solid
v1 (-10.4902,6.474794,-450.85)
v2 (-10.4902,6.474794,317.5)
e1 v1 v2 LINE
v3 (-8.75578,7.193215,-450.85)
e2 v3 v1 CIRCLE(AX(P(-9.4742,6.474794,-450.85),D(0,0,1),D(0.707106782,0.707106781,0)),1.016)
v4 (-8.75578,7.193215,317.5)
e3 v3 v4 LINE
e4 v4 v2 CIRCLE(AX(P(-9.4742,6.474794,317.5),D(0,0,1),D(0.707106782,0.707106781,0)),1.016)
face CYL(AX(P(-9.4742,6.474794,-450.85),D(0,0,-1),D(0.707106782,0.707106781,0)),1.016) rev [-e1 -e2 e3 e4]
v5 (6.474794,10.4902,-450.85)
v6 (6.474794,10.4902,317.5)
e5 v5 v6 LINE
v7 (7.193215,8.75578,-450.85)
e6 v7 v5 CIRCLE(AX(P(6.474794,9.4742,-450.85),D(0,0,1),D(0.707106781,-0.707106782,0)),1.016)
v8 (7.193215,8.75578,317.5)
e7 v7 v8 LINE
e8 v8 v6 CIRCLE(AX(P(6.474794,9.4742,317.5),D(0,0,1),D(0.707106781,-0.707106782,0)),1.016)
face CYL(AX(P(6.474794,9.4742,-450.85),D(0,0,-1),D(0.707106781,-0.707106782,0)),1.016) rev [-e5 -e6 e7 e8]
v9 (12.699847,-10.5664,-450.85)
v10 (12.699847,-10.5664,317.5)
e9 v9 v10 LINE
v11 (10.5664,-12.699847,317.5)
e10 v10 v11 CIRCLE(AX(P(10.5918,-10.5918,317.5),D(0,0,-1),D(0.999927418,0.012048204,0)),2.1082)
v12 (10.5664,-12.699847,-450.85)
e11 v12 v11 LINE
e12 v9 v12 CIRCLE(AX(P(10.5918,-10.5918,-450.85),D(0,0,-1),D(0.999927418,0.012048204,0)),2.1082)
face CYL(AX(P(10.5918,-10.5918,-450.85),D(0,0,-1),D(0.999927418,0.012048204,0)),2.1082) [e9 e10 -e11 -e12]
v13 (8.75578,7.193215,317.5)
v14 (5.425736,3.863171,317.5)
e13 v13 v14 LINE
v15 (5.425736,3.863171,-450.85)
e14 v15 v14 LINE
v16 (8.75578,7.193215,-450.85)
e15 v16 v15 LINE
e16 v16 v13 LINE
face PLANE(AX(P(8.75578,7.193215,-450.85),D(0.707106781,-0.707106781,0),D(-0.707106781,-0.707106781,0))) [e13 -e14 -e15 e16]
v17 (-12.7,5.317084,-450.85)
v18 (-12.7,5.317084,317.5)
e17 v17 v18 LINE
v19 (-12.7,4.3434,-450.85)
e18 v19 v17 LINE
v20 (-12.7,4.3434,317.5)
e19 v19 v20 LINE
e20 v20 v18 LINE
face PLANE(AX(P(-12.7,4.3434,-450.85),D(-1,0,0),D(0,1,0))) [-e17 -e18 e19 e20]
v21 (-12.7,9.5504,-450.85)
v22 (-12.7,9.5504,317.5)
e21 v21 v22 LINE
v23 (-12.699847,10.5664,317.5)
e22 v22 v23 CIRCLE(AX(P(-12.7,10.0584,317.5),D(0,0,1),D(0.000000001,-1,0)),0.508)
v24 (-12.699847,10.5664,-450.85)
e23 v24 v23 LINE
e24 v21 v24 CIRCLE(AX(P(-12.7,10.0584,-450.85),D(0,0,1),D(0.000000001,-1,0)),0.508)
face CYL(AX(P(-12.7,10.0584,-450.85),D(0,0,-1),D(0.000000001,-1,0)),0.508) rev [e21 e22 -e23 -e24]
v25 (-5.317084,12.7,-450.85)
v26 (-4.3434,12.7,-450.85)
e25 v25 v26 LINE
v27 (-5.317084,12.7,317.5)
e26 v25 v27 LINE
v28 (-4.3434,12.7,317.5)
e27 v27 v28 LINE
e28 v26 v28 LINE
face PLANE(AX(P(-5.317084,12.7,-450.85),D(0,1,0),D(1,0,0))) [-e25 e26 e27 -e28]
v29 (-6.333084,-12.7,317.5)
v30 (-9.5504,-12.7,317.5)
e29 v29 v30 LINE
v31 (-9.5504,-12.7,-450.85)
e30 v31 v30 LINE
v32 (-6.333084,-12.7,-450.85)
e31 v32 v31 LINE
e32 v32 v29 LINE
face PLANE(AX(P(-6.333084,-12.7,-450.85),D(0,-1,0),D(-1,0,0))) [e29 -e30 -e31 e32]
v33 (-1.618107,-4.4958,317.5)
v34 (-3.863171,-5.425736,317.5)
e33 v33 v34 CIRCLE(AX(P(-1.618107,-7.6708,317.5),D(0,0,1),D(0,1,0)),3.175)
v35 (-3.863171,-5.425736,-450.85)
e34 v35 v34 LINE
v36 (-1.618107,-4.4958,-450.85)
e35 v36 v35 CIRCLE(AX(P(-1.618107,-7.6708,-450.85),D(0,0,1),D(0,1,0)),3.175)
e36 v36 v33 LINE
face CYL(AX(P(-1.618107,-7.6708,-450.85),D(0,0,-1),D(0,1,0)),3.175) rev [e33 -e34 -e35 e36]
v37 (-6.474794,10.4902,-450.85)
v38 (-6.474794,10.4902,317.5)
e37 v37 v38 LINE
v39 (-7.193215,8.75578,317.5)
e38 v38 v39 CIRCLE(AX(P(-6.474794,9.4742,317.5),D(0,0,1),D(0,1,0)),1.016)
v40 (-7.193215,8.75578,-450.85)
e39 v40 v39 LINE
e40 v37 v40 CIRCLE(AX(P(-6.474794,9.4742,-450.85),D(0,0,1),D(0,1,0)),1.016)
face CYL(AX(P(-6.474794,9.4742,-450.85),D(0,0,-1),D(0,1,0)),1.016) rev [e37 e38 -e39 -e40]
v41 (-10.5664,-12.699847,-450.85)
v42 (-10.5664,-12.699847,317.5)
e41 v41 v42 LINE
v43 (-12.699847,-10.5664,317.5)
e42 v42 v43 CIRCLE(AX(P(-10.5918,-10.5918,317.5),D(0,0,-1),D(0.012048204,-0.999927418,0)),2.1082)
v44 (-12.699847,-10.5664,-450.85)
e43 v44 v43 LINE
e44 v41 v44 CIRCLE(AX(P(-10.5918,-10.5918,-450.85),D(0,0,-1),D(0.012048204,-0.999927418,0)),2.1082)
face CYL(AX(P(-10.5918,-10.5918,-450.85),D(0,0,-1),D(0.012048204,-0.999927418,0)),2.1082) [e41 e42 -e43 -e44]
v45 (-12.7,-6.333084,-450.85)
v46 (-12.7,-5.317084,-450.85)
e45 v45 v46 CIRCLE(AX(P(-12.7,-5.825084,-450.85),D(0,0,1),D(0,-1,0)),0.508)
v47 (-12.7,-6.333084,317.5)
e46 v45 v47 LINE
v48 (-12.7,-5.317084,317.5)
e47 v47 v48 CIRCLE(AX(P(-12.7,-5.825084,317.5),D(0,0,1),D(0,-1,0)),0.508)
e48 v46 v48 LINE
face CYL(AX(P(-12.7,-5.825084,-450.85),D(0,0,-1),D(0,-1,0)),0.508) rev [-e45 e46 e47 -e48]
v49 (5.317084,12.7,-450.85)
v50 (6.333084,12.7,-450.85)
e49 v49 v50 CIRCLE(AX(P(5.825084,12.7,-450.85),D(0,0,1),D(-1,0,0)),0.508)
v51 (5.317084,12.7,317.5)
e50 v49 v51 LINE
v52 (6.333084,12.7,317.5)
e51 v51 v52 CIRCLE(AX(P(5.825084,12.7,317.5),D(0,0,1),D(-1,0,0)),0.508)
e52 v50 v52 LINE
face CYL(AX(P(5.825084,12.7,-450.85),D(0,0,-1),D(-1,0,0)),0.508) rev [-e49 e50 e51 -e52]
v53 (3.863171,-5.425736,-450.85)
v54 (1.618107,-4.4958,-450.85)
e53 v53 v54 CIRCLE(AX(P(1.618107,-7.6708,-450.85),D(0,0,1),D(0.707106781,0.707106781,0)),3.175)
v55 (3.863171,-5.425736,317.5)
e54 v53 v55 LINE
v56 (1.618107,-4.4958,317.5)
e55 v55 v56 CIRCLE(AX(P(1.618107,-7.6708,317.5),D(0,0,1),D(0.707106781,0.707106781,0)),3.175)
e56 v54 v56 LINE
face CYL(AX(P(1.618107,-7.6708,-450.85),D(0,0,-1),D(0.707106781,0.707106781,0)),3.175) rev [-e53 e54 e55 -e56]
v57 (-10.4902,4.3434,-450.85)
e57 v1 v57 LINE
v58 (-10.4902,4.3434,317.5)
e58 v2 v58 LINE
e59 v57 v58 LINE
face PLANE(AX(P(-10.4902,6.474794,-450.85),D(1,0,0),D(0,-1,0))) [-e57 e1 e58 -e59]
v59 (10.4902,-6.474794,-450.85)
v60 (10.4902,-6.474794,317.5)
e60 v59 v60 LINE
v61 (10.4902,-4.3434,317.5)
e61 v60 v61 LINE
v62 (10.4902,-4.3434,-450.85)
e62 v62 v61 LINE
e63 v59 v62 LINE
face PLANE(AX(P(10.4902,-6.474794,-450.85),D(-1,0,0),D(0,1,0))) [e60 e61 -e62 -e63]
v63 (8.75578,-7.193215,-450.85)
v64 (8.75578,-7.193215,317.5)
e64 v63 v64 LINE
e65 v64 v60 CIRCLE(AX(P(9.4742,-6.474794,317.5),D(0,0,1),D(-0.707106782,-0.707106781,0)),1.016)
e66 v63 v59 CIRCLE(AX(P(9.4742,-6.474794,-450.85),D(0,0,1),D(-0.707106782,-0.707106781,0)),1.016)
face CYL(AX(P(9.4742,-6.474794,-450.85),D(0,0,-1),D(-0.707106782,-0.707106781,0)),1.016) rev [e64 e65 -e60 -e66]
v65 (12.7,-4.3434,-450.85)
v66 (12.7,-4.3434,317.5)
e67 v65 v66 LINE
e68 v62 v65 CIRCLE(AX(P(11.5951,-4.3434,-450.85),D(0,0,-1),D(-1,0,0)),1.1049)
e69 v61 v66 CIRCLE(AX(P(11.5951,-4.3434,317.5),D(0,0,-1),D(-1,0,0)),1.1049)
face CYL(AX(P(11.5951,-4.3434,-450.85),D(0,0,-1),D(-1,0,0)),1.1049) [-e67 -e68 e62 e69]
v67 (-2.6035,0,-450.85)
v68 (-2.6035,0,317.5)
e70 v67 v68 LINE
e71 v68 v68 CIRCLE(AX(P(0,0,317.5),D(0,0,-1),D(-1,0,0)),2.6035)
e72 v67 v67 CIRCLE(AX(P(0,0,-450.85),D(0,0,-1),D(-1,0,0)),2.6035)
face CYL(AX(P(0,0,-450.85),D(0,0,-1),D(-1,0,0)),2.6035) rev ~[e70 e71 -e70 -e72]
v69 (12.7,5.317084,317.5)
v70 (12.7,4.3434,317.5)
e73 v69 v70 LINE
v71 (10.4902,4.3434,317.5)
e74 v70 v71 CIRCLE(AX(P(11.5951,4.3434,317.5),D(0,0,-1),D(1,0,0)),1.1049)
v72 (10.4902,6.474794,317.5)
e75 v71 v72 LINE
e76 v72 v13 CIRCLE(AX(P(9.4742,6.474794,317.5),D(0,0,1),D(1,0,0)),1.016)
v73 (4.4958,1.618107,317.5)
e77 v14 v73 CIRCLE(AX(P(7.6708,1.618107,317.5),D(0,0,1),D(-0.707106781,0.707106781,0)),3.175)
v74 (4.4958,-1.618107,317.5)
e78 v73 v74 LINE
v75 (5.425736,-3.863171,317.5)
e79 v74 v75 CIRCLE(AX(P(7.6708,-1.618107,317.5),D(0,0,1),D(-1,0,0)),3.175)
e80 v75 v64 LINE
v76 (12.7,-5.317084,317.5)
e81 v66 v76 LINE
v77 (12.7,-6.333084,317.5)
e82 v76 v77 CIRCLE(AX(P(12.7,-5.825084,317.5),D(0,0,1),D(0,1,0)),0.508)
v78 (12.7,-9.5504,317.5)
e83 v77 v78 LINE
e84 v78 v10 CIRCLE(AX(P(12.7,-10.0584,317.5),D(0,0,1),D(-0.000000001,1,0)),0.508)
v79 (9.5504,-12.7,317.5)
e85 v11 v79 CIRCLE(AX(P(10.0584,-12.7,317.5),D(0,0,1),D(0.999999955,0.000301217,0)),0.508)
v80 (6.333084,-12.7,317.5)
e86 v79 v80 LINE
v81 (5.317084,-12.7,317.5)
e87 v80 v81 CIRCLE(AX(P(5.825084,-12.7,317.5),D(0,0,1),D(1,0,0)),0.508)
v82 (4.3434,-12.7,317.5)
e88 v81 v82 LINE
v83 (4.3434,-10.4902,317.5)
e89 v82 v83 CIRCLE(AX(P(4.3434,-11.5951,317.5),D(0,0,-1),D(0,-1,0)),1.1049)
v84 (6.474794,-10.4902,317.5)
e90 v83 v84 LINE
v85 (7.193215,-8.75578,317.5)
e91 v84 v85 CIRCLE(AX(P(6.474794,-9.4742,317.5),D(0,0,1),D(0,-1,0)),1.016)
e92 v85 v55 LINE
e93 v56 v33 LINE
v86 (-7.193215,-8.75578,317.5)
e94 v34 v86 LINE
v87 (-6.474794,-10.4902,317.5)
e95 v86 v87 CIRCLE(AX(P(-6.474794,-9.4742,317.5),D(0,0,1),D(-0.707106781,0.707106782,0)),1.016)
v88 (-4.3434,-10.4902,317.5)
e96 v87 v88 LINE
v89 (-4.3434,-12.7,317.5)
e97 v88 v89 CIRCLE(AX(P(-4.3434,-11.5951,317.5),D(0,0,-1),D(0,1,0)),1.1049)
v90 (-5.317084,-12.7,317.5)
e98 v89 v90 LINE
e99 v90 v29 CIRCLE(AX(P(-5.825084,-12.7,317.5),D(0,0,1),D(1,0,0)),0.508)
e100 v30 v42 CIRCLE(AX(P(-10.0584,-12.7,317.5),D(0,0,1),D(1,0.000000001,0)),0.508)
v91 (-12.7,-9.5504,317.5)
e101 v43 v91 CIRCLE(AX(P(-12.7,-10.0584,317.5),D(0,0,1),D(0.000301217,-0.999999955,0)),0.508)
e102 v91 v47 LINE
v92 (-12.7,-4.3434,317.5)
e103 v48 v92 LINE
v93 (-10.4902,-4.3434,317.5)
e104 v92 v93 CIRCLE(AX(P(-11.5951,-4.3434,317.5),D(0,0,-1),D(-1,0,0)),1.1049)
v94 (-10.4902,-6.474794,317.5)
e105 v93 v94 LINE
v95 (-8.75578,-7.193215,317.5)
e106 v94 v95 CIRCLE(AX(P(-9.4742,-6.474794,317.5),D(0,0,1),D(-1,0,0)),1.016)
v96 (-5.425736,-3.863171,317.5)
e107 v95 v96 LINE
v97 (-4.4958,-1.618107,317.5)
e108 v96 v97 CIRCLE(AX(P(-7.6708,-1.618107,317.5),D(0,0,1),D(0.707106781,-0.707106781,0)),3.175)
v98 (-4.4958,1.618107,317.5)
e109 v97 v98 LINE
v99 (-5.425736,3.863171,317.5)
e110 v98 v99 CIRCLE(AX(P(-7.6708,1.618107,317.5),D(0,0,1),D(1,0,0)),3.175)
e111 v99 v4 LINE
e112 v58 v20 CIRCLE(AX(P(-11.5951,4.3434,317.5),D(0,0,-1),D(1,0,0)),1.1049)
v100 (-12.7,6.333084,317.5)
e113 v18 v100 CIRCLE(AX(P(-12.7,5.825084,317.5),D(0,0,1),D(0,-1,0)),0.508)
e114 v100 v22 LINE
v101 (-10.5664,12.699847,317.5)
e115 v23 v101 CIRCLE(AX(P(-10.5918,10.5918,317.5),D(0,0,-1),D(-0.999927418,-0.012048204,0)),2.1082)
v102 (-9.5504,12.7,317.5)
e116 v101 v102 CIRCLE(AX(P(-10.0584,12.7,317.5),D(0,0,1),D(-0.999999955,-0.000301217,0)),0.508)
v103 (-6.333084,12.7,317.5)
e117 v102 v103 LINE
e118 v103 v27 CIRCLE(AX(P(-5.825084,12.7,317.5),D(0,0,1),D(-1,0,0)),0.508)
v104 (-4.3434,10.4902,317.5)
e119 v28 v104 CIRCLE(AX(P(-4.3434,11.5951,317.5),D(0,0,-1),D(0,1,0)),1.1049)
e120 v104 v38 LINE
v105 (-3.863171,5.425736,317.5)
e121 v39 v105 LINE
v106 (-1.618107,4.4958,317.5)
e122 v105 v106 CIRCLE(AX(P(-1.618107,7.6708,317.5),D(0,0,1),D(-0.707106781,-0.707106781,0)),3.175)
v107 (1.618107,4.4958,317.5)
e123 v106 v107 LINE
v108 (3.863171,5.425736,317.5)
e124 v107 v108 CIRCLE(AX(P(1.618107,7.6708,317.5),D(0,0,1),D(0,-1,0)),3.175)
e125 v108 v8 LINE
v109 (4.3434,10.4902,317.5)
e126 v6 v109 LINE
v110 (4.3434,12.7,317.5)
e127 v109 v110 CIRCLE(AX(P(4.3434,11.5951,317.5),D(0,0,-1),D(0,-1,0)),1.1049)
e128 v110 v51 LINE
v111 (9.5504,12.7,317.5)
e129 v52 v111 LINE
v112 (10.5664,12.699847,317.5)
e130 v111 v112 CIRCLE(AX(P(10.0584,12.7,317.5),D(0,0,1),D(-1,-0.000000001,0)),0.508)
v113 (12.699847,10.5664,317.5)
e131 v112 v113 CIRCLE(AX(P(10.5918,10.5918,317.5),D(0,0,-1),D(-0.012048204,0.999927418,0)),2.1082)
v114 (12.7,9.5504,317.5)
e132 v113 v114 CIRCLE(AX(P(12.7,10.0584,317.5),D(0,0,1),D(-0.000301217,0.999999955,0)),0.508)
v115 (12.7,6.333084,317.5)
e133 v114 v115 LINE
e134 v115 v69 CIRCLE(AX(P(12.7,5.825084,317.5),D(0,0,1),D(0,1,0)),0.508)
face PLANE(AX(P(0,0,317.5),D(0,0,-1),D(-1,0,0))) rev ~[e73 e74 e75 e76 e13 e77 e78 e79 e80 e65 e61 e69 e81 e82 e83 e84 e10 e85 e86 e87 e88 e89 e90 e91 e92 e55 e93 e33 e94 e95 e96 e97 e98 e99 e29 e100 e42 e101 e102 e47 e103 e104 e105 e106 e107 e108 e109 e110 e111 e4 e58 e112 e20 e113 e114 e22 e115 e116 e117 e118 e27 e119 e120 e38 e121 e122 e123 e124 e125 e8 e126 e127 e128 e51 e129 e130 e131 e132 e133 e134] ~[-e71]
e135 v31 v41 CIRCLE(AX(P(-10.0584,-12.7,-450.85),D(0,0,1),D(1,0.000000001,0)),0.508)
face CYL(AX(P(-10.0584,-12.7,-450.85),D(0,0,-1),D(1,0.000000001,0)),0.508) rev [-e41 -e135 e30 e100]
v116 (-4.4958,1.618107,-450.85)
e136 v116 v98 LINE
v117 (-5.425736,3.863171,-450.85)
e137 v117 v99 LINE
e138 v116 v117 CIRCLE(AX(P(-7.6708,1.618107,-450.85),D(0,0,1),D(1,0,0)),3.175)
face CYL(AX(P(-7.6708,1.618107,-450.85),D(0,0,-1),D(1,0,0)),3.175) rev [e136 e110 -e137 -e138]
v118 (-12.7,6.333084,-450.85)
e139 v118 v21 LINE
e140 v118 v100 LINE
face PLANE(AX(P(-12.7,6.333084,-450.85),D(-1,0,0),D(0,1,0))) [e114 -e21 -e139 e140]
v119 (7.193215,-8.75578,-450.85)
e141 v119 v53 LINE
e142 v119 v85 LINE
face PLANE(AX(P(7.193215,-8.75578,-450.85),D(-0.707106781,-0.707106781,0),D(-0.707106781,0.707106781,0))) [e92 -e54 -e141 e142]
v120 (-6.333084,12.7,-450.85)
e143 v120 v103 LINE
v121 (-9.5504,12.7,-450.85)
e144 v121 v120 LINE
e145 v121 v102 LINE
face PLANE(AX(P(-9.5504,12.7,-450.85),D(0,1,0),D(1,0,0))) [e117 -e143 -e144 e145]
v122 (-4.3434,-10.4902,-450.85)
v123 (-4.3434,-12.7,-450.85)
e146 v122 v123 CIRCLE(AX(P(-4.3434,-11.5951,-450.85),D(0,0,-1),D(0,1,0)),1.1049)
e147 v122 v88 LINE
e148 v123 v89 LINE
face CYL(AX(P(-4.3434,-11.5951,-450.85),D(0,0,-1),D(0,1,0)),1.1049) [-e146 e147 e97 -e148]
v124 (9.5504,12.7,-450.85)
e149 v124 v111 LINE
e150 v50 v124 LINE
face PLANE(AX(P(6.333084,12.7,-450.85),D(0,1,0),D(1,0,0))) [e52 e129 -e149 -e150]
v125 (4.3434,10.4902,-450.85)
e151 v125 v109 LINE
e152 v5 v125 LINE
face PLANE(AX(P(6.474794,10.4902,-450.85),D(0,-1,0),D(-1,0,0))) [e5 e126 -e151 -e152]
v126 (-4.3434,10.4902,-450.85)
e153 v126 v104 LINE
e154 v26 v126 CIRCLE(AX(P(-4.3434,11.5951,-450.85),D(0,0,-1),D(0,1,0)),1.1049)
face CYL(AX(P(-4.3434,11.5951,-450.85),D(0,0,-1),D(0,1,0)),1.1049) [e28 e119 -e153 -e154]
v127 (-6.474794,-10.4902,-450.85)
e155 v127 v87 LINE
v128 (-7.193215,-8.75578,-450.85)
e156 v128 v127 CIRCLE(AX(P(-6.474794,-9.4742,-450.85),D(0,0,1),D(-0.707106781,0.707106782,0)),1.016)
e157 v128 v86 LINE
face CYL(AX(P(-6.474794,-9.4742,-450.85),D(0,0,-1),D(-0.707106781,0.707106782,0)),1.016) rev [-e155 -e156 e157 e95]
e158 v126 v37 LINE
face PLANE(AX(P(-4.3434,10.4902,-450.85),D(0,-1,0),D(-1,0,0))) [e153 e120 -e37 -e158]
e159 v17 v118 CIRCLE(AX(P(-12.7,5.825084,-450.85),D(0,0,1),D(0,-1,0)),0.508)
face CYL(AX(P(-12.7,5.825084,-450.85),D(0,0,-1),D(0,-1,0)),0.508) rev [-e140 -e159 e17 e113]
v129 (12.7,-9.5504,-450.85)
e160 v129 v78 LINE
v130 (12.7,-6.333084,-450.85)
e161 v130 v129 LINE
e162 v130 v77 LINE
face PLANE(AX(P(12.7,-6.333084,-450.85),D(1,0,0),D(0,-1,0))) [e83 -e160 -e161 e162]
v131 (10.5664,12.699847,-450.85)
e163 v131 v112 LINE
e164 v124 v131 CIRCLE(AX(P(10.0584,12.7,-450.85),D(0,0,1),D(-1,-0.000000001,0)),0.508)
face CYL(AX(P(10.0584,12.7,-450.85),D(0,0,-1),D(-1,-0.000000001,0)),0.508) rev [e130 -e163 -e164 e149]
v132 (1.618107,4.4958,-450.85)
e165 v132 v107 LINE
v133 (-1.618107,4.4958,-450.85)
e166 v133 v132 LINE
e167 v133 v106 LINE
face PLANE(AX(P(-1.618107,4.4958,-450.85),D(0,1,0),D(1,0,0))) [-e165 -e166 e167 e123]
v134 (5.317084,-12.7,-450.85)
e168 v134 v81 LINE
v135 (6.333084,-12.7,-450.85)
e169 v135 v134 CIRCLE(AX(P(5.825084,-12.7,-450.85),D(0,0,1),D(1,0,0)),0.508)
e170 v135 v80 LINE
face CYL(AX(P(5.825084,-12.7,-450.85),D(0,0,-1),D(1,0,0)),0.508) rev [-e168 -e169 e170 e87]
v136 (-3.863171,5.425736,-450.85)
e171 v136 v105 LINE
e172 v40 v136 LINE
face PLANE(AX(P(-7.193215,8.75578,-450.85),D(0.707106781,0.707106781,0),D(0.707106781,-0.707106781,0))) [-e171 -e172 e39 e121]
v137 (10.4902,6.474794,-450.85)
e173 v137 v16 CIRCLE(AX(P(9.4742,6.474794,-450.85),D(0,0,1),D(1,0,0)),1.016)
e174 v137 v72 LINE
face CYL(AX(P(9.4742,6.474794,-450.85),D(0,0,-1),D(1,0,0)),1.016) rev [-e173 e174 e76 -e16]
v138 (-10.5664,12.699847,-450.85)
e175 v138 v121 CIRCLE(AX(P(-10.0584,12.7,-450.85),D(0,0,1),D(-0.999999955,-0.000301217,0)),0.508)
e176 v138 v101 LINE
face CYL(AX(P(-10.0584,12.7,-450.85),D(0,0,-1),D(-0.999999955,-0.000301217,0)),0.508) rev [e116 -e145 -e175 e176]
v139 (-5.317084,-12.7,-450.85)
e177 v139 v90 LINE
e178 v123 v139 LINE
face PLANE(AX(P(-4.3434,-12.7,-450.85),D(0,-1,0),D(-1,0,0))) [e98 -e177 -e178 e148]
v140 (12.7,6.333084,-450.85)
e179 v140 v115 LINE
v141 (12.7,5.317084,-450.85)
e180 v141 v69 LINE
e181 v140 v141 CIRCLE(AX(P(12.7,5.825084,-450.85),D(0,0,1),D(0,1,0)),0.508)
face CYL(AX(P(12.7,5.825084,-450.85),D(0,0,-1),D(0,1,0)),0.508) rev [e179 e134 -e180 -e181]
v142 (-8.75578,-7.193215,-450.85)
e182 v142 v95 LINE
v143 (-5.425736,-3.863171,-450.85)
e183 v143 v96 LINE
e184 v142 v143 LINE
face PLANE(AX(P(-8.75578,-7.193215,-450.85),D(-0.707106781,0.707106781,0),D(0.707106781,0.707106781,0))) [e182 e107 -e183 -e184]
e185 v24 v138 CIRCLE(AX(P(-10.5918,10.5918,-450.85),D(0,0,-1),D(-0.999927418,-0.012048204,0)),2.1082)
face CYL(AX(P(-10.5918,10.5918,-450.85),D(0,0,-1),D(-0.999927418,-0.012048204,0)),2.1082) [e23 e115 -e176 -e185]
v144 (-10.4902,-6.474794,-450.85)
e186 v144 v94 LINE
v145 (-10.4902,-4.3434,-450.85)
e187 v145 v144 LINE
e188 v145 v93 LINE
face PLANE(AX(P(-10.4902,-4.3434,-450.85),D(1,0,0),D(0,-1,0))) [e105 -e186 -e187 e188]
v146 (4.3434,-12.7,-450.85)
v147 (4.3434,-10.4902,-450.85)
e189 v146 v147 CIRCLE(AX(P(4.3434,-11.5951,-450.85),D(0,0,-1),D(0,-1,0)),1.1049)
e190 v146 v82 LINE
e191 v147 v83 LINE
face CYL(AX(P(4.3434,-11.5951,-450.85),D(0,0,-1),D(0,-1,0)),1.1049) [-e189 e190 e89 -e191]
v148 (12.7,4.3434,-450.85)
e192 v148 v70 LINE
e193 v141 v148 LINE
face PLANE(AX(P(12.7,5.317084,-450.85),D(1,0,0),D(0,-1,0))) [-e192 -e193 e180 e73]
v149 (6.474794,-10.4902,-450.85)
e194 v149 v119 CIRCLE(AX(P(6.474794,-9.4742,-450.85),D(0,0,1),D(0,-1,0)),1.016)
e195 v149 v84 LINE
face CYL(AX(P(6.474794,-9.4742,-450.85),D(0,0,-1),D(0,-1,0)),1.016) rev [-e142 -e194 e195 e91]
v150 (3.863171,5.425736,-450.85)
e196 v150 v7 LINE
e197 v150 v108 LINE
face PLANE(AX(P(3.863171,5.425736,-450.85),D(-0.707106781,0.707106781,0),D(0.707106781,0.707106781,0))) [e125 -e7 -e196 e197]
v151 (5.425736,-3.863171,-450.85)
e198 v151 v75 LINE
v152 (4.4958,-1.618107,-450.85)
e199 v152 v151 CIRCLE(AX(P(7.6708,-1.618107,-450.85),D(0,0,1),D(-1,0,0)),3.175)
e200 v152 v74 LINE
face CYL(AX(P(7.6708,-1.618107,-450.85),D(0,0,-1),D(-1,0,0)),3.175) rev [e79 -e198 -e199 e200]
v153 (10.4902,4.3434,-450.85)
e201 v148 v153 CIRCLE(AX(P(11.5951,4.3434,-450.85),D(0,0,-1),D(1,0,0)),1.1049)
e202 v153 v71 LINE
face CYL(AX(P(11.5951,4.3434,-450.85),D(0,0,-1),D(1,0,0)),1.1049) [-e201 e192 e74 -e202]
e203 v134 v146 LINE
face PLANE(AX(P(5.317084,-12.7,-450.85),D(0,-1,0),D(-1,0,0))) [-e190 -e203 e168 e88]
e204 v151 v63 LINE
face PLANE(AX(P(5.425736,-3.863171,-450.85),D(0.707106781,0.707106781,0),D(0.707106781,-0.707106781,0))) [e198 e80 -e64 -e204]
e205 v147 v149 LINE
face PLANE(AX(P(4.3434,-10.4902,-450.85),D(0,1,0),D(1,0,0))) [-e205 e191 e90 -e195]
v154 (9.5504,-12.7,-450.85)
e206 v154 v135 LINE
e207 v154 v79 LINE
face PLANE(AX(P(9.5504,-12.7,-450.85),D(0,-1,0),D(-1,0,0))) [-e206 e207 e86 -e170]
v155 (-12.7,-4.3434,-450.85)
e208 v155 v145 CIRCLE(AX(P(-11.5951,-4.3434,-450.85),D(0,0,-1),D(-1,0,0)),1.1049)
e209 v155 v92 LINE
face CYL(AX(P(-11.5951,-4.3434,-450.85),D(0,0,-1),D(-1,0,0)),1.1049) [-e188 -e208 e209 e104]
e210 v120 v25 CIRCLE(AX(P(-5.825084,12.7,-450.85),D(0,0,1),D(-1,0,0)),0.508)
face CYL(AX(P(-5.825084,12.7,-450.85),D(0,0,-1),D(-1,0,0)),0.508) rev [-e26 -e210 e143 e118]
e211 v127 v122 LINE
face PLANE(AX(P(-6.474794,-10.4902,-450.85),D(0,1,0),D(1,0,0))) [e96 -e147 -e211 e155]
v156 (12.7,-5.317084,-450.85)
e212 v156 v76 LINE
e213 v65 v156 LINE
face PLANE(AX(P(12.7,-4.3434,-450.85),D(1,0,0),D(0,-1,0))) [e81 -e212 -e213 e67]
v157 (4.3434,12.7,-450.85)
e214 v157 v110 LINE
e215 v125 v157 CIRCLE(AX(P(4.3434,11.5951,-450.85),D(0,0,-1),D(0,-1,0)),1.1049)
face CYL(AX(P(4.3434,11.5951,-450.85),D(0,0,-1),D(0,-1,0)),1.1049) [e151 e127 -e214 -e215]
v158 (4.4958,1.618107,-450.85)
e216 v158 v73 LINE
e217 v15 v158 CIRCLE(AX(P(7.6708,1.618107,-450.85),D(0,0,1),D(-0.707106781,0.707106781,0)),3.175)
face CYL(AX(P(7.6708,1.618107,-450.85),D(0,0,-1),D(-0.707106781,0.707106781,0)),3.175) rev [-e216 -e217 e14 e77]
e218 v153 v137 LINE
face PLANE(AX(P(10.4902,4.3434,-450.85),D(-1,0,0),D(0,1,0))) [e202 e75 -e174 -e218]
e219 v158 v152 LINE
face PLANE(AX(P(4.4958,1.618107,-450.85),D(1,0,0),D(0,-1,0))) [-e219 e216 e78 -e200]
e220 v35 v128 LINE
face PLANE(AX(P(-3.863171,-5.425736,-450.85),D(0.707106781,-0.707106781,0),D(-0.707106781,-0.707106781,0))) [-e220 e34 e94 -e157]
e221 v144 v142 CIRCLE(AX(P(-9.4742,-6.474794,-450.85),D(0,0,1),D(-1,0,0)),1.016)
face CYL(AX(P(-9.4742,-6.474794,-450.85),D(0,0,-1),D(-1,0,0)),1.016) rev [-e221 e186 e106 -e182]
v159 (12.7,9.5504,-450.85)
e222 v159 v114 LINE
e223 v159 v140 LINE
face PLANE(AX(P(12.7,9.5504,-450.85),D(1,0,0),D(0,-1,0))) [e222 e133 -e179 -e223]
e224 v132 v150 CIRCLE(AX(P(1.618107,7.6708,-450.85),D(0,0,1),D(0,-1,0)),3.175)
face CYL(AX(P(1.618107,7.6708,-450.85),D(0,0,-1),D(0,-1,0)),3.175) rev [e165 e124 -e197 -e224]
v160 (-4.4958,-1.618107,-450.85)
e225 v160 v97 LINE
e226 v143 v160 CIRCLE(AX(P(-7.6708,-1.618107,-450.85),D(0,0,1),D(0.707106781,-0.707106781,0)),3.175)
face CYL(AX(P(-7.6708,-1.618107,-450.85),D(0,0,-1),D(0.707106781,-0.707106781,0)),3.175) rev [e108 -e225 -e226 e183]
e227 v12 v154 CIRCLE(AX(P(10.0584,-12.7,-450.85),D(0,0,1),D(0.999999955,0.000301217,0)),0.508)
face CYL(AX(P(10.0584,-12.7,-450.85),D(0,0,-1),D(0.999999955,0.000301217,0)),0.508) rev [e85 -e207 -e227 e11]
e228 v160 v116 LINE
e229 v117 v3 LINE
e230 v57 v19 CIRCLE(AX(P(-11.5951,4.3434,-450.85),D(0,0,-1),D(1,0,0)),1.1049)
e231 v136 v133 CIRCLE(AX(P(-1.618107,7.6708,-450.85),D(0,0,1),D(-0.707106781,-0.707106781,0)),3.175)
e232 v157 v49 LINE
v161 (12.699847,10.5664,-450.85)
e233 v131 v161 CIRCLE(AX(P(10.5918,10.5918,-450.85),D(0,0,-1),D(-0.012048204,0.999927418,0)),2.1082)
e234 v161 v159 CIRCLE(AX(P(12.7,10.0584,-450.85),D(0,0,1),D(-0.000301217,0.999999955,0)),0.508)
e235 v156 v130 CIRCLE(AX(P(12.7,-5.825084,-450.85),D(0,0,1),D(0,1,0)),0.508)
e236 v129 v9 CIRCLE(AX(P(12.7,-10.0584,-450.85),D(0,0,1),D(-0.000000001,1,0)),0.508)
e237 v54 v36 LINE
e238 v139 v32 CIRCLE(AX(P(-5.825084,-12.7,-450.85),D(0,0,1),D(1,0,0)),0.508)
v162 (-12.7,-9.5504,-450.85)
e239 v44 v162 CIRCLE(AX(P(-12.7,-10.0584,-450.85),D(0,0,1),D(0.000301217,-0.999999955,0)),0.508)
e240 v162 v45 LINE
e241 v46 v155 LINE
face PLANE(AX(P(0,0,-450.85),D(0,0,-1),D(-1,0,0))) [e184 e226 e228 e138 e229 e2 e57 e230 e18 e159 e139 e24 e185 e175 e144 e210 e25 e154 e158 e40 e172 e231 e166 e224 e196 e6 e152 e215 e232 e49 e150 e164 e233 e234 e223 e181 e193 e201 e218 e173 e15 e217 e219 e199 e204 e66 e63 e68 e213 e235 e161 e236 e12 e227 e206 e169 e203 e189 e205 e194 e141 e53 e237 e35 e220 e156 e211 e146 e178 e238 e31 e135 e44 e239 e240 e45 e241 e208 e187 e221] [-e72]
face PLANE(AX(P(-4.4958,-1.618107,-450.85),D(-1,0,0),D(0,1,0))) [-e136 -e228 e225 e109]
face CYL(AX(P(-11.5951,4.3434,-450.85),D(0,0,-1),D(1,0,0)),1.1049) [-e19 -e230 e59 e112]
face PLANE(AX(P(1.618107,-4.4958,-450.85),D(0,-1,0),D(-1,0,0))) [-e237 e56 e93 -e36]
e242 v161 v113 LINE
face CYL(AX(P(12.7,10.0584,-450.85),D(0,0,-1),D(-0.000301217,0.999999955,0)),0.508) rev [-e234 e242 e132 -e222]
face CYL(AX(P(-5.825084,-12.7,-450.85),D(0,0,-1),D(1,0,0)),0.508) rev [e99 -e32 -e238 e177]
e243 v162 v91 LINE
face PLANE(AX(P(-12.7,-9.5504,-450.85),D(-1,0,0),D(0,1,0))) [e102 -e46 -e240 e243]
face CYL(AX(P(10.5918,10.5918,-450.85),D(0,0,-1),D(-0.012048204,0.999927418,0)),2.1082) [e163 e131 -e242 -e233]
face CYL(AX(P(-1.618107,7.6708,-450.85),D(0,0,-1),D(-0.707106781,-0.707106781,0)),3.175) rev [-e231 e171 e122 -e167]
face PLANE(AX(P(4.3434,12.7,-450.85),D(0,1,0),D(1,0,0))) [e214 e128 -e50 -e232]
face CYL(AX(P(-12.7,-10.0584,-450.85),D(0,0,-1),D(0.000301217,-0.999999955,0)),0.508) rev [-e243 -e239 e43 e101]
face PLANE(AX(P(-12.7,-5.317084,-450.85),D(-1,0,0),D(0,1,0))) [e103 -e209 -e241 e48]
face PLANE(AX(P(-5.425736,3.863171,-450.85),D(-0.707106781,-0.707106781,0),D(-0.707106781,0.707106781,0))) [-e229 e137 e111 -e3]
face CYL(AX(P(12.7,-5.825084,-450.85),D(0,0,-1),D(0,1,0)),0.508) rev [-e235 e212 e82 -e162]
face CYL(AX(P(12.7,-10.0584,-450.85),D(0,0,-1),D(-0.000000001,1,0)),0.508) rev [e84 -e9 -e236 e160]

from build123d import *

# Parameters (mm, degrees)
SKETCH1_R           = 2.6035
BOSS_EXTRUDE1_DEPTH = 768.35


with BuildPart() as part:
    # Sketch1 → Boss-Extrude1 (new body)
    with BuildSketch(Plane(origin=(0, 0, -450.85), x_dir=(-1, 0, 0), z_dir=(0, 0, -1))):
        with BuildLine():
            Line((12.7, -9.5504), (12.7, -6.3330836))
            ThreePointArc((12.7, -6.3330836), (12.192, -5.8250836), (12.7, -5.3170836))
            Line((12.7, -5.3170836), (12.7, -4.3434))
            ThreePointArc((12.7, -4.3434), (11.5951, -3.2385), (10.4902, -4.3434))
            Line((10.4902, -4.3434), (10.4902, -6.474794456))
            ThreePointArc((10.4902, -6.474794456), (9.863006367, -7.413456061), (8.75577951, -7.193214945))
            Line((8.75577951, -7.193214945), (5.42573597, -3.863171405))
            ThreePointArc((5.42573597, -3.863171405), (4.737482484, -2.833127272), (4.4958, -1.618107374))
            Line((4.4958, -1.618107374), (4.4958, 1.618107374))
            ThreePointArc((4.4958, 1.618107374), (4.737482484, 2.833127272), (5.42573597, 3.863171405))
            Line((5.42573597, 3.863171405), (8.75577951, 7.193214945))
            ThreePointArc((8.75577951, 7.193214945), (9.863006367, 7.413456061), (10.4902, 6.474794456))
            Line((10.4902, 6.474794456), (10.4902, 4.343399971))
            ThreePointArc((10.4902, 4.343399971), (11.5951, 3.238499971), (12.7, 4.343399971))
            Line((12.7, 4.343399971), (12.7, 5.3170836))
            ThreePointArc((12.7, 5.3170836), (12.192, 5.8250836), (12.7, 6.3330836))
            Line((12.7, 6.3330836), (12.7, 9.5504))
            ThreePointArc((12.7, 9.5504), (12.192000006, 10.058323491), (12.699846982, 10.566399977))
            ThreePointArc((12.699846982, 10.566399977), (12.082522516, 12.082522516), (10.566399977, 12.699846982))
            ThreePointArc((10.566399977, 12.699846982), (10.058323491, 12.192000006), (9.5504, 12.7))
            Line((9.5504, 12.7), (6.3330836, 12.7))
            ThreePointArc((6.3330836, 12.7), (5.8250836, 12.192), (5.3170836, 12.7))
            Line((5.3170836, 12.7), (4.3434, 12.7))
            ThreePointArc((4.3434, 12.7), (3.2385, 11.5951), (4.3434, 10.4902))
            Line((4.3434, 10.4902), (6.474794456, 10.4902))
            ThreePointArc((6.474794456, 10.4902), (7.413456061, 9.863006367), (7.193214945, 8.75577951))
            Line((7.193214945, 8.75577951), (3.863171405, 5.42573597))
            ThreePointArc((3.863171405, 5.42573597), (2.833127272, 4.737482484), (1.618107374, 4.4958))
            Line((1.618107374, 4.4958), (-1.618107374, 4.4958))
            ThreePointArc((-1.618107374, 4.4958), (-2.833127272, 4.737482484), (-3.863171405, 5.42573597))
            Line((-3.863171405, 5.42573597), (-7.193214945, 8.75577951))
            ThreePointArc((-7.193214945, 8.75577951), (-7.413456061, 9.863006367), (-6.474794456, 10.4902))
            Line((-6.474794456, 10.4902), (-4.343399971, 10.4902))
            ThreePointArc((-4.343399971, 10.4902), (-3.238499971, 11.5951), (-4.343399971, 12.7))
            Line((-4.343399971, 12.7), (-5.3170836, 12.7))
            ThreePointArc((-5.3170836, 12.7), (-5.8250836, 12.192), (-6.3330836, 12.7))
            Line((-6.3330836, 12.7), (-9.5504, 12.7))
            ThreePointArc((-9.5504, 12.7), (-10.058323491, 12.192000006), (-10.566399977, 12.699846982))
            ThreePointArc((-10.566399977, 12.699846982), (-12.082522516, 12.082522516), (-12.699846982, 10.566399977))
            ThreePointArc((-12.699846982, 10.566399977), (-12.192000006, 10.058323491), (-12.7, 9.5504))
            Line((-12.7, 9.5504), (-12.7, 6.3330836))
            ThreePointArc((-12.7, 6.3330836), (-12.192, 5.8250836), (-12.7, 5.3170836))
            Line((-12.7, 5.3170836), (-12.7, 4.3434))
            ThreePointArc((-12.7, 4.3434), (-11.5951, 3.2385), (-10.4902, 4.3434))
            Line((-10.4902, 4.3434), (-10.4902, 6.474794456))
            ThreePointArc((-10.4902, 6.474794456), (-9.863006367, 7.413456061), (-8.75577951, 7.193214945))
            Line((-8.75577951, 7.193214945), (-5.42573597, 3.863171405))
            ThreePointArc((-5.42573597, 3.863171405), (-4.737482484, 2.833127272), (-4.4958, 1.618107374))
            Line((-4.4958, 1.618107374), (-4.4958, -1.618107374))
            ThreePointArc((-4.4958, -1.618107374), (-4.737482484, -2.833127272), (-5.42573597, -3.863171405))
            Line((-5.42573597, -3.863171405), (-8.75577951, -7.193214945))
            ThreePointArc((-8.75577951, -7.193214945), (-9.863006367, -7.413456061), (-10.4902, -6.474794456))
            Line((-10.4902, -6.474794456), (-10.4902, -4.343399971))
            ThreePointArc((-10.4902, -4.343399971), (-11.5951, -3.238499971), (-12.7, -4.343399971))
            Line((-12.7, -4.343399971), (-12.7, -5.3170836))
            ThreePointArc((-12.7, -5.3170836), (-12.192, -5.8250836), (-12.7, -6.3330836))
            Line((-12.7, -6.3330836), (-12.7, -9.5504))
            ThreePointArc((-12.7, -9.5504), (-12.192000006, -10.058323491), (-12.699846982, -10.566399977))
            ThreePointArc((-12.699846982, -10.566399977), (-12.082522516, -12.082522516), (-10.566399977, -12.699846982))
            ThreePointArc((-10.566399977, -12.699846982), (-10.058323491, -12.192000006), (-9.5504, -12.7))
            Line((-9.5504, -12.7), (-6.3330836, -12.7))
            ThreePointArc((-6.3330836, -12.7), (-5.8250836, -12.192), (-5.3170836, -12.7))
            Line((-5.3170836, -12.7), (-4.3434, -12.7))
            ThreePointArc((-4.3434, -12.7), (-3.2385, -11.5951), (-4.3434, -10.4902))
            Line((-4.3434, -10.4902), (-6.474794456, -10.4902))
            ThreePointArc((-6.474794456, -10.4902), (-7.413456061, -9.863006367), (-7.193214945, -8.75577951))
            Line((-7.193214945, -8.75577951), (-3.863171405, -5.42573597))
            ThreePointArc((-3.863171405, -5.42573597), (-2.833127272, -4.737482484), (-1.618107374, -4.4958))
            Line((-1.618107374, -4.4958), (1.618107374, -4.4958))
            ThreePointArc((1.618107374, -4.4958), (2.833127272, -4.737482484), (3.863171405, -5.42573597))
            Line((3.863171405, -5.42573597), (7.193214945, -8.75577951))
            ThreePointArc((7.193214945, -8.75577951), (7.413456061, -9.863006367), (6.474794456, -10.4902))
            Line((6.474794456, -10.4902), (4.343399971, -10.4902))
            ThreePointArc((4.343399971, -10.4902), (3.238499971, -11.5951), (4.343399971, -12.7))
            Line((4.343399971, -12.7), (5.3170836, -12.7))
            ThreePointArc((5.3170836, -12.7), (5.8250836, -12.192), (6.3330836, -12.7))
            Line((6.3330836, -12.7), (9.5504, -12.7))
            ThreePointArc((9.5504, -12.7), (10.058323491, -12.192000006), (10.566399977, -12.699846982))
            ThreePointArc((10.566399977, -12.699846982), (12.082522516, -12.082522516), (12.699846982, -10.566399977))
            ThreePointArc((12.699846982, -10.566399977), (12.192000006, -10.058323491), (12.7, -9.5504))
        make_face()
        Circle(SKETCH1_R, mode=Mode.SUBTRACT)
    extrude(amount=-BOSS_EXTRUDE1_DEPTH)


solid = part.part
